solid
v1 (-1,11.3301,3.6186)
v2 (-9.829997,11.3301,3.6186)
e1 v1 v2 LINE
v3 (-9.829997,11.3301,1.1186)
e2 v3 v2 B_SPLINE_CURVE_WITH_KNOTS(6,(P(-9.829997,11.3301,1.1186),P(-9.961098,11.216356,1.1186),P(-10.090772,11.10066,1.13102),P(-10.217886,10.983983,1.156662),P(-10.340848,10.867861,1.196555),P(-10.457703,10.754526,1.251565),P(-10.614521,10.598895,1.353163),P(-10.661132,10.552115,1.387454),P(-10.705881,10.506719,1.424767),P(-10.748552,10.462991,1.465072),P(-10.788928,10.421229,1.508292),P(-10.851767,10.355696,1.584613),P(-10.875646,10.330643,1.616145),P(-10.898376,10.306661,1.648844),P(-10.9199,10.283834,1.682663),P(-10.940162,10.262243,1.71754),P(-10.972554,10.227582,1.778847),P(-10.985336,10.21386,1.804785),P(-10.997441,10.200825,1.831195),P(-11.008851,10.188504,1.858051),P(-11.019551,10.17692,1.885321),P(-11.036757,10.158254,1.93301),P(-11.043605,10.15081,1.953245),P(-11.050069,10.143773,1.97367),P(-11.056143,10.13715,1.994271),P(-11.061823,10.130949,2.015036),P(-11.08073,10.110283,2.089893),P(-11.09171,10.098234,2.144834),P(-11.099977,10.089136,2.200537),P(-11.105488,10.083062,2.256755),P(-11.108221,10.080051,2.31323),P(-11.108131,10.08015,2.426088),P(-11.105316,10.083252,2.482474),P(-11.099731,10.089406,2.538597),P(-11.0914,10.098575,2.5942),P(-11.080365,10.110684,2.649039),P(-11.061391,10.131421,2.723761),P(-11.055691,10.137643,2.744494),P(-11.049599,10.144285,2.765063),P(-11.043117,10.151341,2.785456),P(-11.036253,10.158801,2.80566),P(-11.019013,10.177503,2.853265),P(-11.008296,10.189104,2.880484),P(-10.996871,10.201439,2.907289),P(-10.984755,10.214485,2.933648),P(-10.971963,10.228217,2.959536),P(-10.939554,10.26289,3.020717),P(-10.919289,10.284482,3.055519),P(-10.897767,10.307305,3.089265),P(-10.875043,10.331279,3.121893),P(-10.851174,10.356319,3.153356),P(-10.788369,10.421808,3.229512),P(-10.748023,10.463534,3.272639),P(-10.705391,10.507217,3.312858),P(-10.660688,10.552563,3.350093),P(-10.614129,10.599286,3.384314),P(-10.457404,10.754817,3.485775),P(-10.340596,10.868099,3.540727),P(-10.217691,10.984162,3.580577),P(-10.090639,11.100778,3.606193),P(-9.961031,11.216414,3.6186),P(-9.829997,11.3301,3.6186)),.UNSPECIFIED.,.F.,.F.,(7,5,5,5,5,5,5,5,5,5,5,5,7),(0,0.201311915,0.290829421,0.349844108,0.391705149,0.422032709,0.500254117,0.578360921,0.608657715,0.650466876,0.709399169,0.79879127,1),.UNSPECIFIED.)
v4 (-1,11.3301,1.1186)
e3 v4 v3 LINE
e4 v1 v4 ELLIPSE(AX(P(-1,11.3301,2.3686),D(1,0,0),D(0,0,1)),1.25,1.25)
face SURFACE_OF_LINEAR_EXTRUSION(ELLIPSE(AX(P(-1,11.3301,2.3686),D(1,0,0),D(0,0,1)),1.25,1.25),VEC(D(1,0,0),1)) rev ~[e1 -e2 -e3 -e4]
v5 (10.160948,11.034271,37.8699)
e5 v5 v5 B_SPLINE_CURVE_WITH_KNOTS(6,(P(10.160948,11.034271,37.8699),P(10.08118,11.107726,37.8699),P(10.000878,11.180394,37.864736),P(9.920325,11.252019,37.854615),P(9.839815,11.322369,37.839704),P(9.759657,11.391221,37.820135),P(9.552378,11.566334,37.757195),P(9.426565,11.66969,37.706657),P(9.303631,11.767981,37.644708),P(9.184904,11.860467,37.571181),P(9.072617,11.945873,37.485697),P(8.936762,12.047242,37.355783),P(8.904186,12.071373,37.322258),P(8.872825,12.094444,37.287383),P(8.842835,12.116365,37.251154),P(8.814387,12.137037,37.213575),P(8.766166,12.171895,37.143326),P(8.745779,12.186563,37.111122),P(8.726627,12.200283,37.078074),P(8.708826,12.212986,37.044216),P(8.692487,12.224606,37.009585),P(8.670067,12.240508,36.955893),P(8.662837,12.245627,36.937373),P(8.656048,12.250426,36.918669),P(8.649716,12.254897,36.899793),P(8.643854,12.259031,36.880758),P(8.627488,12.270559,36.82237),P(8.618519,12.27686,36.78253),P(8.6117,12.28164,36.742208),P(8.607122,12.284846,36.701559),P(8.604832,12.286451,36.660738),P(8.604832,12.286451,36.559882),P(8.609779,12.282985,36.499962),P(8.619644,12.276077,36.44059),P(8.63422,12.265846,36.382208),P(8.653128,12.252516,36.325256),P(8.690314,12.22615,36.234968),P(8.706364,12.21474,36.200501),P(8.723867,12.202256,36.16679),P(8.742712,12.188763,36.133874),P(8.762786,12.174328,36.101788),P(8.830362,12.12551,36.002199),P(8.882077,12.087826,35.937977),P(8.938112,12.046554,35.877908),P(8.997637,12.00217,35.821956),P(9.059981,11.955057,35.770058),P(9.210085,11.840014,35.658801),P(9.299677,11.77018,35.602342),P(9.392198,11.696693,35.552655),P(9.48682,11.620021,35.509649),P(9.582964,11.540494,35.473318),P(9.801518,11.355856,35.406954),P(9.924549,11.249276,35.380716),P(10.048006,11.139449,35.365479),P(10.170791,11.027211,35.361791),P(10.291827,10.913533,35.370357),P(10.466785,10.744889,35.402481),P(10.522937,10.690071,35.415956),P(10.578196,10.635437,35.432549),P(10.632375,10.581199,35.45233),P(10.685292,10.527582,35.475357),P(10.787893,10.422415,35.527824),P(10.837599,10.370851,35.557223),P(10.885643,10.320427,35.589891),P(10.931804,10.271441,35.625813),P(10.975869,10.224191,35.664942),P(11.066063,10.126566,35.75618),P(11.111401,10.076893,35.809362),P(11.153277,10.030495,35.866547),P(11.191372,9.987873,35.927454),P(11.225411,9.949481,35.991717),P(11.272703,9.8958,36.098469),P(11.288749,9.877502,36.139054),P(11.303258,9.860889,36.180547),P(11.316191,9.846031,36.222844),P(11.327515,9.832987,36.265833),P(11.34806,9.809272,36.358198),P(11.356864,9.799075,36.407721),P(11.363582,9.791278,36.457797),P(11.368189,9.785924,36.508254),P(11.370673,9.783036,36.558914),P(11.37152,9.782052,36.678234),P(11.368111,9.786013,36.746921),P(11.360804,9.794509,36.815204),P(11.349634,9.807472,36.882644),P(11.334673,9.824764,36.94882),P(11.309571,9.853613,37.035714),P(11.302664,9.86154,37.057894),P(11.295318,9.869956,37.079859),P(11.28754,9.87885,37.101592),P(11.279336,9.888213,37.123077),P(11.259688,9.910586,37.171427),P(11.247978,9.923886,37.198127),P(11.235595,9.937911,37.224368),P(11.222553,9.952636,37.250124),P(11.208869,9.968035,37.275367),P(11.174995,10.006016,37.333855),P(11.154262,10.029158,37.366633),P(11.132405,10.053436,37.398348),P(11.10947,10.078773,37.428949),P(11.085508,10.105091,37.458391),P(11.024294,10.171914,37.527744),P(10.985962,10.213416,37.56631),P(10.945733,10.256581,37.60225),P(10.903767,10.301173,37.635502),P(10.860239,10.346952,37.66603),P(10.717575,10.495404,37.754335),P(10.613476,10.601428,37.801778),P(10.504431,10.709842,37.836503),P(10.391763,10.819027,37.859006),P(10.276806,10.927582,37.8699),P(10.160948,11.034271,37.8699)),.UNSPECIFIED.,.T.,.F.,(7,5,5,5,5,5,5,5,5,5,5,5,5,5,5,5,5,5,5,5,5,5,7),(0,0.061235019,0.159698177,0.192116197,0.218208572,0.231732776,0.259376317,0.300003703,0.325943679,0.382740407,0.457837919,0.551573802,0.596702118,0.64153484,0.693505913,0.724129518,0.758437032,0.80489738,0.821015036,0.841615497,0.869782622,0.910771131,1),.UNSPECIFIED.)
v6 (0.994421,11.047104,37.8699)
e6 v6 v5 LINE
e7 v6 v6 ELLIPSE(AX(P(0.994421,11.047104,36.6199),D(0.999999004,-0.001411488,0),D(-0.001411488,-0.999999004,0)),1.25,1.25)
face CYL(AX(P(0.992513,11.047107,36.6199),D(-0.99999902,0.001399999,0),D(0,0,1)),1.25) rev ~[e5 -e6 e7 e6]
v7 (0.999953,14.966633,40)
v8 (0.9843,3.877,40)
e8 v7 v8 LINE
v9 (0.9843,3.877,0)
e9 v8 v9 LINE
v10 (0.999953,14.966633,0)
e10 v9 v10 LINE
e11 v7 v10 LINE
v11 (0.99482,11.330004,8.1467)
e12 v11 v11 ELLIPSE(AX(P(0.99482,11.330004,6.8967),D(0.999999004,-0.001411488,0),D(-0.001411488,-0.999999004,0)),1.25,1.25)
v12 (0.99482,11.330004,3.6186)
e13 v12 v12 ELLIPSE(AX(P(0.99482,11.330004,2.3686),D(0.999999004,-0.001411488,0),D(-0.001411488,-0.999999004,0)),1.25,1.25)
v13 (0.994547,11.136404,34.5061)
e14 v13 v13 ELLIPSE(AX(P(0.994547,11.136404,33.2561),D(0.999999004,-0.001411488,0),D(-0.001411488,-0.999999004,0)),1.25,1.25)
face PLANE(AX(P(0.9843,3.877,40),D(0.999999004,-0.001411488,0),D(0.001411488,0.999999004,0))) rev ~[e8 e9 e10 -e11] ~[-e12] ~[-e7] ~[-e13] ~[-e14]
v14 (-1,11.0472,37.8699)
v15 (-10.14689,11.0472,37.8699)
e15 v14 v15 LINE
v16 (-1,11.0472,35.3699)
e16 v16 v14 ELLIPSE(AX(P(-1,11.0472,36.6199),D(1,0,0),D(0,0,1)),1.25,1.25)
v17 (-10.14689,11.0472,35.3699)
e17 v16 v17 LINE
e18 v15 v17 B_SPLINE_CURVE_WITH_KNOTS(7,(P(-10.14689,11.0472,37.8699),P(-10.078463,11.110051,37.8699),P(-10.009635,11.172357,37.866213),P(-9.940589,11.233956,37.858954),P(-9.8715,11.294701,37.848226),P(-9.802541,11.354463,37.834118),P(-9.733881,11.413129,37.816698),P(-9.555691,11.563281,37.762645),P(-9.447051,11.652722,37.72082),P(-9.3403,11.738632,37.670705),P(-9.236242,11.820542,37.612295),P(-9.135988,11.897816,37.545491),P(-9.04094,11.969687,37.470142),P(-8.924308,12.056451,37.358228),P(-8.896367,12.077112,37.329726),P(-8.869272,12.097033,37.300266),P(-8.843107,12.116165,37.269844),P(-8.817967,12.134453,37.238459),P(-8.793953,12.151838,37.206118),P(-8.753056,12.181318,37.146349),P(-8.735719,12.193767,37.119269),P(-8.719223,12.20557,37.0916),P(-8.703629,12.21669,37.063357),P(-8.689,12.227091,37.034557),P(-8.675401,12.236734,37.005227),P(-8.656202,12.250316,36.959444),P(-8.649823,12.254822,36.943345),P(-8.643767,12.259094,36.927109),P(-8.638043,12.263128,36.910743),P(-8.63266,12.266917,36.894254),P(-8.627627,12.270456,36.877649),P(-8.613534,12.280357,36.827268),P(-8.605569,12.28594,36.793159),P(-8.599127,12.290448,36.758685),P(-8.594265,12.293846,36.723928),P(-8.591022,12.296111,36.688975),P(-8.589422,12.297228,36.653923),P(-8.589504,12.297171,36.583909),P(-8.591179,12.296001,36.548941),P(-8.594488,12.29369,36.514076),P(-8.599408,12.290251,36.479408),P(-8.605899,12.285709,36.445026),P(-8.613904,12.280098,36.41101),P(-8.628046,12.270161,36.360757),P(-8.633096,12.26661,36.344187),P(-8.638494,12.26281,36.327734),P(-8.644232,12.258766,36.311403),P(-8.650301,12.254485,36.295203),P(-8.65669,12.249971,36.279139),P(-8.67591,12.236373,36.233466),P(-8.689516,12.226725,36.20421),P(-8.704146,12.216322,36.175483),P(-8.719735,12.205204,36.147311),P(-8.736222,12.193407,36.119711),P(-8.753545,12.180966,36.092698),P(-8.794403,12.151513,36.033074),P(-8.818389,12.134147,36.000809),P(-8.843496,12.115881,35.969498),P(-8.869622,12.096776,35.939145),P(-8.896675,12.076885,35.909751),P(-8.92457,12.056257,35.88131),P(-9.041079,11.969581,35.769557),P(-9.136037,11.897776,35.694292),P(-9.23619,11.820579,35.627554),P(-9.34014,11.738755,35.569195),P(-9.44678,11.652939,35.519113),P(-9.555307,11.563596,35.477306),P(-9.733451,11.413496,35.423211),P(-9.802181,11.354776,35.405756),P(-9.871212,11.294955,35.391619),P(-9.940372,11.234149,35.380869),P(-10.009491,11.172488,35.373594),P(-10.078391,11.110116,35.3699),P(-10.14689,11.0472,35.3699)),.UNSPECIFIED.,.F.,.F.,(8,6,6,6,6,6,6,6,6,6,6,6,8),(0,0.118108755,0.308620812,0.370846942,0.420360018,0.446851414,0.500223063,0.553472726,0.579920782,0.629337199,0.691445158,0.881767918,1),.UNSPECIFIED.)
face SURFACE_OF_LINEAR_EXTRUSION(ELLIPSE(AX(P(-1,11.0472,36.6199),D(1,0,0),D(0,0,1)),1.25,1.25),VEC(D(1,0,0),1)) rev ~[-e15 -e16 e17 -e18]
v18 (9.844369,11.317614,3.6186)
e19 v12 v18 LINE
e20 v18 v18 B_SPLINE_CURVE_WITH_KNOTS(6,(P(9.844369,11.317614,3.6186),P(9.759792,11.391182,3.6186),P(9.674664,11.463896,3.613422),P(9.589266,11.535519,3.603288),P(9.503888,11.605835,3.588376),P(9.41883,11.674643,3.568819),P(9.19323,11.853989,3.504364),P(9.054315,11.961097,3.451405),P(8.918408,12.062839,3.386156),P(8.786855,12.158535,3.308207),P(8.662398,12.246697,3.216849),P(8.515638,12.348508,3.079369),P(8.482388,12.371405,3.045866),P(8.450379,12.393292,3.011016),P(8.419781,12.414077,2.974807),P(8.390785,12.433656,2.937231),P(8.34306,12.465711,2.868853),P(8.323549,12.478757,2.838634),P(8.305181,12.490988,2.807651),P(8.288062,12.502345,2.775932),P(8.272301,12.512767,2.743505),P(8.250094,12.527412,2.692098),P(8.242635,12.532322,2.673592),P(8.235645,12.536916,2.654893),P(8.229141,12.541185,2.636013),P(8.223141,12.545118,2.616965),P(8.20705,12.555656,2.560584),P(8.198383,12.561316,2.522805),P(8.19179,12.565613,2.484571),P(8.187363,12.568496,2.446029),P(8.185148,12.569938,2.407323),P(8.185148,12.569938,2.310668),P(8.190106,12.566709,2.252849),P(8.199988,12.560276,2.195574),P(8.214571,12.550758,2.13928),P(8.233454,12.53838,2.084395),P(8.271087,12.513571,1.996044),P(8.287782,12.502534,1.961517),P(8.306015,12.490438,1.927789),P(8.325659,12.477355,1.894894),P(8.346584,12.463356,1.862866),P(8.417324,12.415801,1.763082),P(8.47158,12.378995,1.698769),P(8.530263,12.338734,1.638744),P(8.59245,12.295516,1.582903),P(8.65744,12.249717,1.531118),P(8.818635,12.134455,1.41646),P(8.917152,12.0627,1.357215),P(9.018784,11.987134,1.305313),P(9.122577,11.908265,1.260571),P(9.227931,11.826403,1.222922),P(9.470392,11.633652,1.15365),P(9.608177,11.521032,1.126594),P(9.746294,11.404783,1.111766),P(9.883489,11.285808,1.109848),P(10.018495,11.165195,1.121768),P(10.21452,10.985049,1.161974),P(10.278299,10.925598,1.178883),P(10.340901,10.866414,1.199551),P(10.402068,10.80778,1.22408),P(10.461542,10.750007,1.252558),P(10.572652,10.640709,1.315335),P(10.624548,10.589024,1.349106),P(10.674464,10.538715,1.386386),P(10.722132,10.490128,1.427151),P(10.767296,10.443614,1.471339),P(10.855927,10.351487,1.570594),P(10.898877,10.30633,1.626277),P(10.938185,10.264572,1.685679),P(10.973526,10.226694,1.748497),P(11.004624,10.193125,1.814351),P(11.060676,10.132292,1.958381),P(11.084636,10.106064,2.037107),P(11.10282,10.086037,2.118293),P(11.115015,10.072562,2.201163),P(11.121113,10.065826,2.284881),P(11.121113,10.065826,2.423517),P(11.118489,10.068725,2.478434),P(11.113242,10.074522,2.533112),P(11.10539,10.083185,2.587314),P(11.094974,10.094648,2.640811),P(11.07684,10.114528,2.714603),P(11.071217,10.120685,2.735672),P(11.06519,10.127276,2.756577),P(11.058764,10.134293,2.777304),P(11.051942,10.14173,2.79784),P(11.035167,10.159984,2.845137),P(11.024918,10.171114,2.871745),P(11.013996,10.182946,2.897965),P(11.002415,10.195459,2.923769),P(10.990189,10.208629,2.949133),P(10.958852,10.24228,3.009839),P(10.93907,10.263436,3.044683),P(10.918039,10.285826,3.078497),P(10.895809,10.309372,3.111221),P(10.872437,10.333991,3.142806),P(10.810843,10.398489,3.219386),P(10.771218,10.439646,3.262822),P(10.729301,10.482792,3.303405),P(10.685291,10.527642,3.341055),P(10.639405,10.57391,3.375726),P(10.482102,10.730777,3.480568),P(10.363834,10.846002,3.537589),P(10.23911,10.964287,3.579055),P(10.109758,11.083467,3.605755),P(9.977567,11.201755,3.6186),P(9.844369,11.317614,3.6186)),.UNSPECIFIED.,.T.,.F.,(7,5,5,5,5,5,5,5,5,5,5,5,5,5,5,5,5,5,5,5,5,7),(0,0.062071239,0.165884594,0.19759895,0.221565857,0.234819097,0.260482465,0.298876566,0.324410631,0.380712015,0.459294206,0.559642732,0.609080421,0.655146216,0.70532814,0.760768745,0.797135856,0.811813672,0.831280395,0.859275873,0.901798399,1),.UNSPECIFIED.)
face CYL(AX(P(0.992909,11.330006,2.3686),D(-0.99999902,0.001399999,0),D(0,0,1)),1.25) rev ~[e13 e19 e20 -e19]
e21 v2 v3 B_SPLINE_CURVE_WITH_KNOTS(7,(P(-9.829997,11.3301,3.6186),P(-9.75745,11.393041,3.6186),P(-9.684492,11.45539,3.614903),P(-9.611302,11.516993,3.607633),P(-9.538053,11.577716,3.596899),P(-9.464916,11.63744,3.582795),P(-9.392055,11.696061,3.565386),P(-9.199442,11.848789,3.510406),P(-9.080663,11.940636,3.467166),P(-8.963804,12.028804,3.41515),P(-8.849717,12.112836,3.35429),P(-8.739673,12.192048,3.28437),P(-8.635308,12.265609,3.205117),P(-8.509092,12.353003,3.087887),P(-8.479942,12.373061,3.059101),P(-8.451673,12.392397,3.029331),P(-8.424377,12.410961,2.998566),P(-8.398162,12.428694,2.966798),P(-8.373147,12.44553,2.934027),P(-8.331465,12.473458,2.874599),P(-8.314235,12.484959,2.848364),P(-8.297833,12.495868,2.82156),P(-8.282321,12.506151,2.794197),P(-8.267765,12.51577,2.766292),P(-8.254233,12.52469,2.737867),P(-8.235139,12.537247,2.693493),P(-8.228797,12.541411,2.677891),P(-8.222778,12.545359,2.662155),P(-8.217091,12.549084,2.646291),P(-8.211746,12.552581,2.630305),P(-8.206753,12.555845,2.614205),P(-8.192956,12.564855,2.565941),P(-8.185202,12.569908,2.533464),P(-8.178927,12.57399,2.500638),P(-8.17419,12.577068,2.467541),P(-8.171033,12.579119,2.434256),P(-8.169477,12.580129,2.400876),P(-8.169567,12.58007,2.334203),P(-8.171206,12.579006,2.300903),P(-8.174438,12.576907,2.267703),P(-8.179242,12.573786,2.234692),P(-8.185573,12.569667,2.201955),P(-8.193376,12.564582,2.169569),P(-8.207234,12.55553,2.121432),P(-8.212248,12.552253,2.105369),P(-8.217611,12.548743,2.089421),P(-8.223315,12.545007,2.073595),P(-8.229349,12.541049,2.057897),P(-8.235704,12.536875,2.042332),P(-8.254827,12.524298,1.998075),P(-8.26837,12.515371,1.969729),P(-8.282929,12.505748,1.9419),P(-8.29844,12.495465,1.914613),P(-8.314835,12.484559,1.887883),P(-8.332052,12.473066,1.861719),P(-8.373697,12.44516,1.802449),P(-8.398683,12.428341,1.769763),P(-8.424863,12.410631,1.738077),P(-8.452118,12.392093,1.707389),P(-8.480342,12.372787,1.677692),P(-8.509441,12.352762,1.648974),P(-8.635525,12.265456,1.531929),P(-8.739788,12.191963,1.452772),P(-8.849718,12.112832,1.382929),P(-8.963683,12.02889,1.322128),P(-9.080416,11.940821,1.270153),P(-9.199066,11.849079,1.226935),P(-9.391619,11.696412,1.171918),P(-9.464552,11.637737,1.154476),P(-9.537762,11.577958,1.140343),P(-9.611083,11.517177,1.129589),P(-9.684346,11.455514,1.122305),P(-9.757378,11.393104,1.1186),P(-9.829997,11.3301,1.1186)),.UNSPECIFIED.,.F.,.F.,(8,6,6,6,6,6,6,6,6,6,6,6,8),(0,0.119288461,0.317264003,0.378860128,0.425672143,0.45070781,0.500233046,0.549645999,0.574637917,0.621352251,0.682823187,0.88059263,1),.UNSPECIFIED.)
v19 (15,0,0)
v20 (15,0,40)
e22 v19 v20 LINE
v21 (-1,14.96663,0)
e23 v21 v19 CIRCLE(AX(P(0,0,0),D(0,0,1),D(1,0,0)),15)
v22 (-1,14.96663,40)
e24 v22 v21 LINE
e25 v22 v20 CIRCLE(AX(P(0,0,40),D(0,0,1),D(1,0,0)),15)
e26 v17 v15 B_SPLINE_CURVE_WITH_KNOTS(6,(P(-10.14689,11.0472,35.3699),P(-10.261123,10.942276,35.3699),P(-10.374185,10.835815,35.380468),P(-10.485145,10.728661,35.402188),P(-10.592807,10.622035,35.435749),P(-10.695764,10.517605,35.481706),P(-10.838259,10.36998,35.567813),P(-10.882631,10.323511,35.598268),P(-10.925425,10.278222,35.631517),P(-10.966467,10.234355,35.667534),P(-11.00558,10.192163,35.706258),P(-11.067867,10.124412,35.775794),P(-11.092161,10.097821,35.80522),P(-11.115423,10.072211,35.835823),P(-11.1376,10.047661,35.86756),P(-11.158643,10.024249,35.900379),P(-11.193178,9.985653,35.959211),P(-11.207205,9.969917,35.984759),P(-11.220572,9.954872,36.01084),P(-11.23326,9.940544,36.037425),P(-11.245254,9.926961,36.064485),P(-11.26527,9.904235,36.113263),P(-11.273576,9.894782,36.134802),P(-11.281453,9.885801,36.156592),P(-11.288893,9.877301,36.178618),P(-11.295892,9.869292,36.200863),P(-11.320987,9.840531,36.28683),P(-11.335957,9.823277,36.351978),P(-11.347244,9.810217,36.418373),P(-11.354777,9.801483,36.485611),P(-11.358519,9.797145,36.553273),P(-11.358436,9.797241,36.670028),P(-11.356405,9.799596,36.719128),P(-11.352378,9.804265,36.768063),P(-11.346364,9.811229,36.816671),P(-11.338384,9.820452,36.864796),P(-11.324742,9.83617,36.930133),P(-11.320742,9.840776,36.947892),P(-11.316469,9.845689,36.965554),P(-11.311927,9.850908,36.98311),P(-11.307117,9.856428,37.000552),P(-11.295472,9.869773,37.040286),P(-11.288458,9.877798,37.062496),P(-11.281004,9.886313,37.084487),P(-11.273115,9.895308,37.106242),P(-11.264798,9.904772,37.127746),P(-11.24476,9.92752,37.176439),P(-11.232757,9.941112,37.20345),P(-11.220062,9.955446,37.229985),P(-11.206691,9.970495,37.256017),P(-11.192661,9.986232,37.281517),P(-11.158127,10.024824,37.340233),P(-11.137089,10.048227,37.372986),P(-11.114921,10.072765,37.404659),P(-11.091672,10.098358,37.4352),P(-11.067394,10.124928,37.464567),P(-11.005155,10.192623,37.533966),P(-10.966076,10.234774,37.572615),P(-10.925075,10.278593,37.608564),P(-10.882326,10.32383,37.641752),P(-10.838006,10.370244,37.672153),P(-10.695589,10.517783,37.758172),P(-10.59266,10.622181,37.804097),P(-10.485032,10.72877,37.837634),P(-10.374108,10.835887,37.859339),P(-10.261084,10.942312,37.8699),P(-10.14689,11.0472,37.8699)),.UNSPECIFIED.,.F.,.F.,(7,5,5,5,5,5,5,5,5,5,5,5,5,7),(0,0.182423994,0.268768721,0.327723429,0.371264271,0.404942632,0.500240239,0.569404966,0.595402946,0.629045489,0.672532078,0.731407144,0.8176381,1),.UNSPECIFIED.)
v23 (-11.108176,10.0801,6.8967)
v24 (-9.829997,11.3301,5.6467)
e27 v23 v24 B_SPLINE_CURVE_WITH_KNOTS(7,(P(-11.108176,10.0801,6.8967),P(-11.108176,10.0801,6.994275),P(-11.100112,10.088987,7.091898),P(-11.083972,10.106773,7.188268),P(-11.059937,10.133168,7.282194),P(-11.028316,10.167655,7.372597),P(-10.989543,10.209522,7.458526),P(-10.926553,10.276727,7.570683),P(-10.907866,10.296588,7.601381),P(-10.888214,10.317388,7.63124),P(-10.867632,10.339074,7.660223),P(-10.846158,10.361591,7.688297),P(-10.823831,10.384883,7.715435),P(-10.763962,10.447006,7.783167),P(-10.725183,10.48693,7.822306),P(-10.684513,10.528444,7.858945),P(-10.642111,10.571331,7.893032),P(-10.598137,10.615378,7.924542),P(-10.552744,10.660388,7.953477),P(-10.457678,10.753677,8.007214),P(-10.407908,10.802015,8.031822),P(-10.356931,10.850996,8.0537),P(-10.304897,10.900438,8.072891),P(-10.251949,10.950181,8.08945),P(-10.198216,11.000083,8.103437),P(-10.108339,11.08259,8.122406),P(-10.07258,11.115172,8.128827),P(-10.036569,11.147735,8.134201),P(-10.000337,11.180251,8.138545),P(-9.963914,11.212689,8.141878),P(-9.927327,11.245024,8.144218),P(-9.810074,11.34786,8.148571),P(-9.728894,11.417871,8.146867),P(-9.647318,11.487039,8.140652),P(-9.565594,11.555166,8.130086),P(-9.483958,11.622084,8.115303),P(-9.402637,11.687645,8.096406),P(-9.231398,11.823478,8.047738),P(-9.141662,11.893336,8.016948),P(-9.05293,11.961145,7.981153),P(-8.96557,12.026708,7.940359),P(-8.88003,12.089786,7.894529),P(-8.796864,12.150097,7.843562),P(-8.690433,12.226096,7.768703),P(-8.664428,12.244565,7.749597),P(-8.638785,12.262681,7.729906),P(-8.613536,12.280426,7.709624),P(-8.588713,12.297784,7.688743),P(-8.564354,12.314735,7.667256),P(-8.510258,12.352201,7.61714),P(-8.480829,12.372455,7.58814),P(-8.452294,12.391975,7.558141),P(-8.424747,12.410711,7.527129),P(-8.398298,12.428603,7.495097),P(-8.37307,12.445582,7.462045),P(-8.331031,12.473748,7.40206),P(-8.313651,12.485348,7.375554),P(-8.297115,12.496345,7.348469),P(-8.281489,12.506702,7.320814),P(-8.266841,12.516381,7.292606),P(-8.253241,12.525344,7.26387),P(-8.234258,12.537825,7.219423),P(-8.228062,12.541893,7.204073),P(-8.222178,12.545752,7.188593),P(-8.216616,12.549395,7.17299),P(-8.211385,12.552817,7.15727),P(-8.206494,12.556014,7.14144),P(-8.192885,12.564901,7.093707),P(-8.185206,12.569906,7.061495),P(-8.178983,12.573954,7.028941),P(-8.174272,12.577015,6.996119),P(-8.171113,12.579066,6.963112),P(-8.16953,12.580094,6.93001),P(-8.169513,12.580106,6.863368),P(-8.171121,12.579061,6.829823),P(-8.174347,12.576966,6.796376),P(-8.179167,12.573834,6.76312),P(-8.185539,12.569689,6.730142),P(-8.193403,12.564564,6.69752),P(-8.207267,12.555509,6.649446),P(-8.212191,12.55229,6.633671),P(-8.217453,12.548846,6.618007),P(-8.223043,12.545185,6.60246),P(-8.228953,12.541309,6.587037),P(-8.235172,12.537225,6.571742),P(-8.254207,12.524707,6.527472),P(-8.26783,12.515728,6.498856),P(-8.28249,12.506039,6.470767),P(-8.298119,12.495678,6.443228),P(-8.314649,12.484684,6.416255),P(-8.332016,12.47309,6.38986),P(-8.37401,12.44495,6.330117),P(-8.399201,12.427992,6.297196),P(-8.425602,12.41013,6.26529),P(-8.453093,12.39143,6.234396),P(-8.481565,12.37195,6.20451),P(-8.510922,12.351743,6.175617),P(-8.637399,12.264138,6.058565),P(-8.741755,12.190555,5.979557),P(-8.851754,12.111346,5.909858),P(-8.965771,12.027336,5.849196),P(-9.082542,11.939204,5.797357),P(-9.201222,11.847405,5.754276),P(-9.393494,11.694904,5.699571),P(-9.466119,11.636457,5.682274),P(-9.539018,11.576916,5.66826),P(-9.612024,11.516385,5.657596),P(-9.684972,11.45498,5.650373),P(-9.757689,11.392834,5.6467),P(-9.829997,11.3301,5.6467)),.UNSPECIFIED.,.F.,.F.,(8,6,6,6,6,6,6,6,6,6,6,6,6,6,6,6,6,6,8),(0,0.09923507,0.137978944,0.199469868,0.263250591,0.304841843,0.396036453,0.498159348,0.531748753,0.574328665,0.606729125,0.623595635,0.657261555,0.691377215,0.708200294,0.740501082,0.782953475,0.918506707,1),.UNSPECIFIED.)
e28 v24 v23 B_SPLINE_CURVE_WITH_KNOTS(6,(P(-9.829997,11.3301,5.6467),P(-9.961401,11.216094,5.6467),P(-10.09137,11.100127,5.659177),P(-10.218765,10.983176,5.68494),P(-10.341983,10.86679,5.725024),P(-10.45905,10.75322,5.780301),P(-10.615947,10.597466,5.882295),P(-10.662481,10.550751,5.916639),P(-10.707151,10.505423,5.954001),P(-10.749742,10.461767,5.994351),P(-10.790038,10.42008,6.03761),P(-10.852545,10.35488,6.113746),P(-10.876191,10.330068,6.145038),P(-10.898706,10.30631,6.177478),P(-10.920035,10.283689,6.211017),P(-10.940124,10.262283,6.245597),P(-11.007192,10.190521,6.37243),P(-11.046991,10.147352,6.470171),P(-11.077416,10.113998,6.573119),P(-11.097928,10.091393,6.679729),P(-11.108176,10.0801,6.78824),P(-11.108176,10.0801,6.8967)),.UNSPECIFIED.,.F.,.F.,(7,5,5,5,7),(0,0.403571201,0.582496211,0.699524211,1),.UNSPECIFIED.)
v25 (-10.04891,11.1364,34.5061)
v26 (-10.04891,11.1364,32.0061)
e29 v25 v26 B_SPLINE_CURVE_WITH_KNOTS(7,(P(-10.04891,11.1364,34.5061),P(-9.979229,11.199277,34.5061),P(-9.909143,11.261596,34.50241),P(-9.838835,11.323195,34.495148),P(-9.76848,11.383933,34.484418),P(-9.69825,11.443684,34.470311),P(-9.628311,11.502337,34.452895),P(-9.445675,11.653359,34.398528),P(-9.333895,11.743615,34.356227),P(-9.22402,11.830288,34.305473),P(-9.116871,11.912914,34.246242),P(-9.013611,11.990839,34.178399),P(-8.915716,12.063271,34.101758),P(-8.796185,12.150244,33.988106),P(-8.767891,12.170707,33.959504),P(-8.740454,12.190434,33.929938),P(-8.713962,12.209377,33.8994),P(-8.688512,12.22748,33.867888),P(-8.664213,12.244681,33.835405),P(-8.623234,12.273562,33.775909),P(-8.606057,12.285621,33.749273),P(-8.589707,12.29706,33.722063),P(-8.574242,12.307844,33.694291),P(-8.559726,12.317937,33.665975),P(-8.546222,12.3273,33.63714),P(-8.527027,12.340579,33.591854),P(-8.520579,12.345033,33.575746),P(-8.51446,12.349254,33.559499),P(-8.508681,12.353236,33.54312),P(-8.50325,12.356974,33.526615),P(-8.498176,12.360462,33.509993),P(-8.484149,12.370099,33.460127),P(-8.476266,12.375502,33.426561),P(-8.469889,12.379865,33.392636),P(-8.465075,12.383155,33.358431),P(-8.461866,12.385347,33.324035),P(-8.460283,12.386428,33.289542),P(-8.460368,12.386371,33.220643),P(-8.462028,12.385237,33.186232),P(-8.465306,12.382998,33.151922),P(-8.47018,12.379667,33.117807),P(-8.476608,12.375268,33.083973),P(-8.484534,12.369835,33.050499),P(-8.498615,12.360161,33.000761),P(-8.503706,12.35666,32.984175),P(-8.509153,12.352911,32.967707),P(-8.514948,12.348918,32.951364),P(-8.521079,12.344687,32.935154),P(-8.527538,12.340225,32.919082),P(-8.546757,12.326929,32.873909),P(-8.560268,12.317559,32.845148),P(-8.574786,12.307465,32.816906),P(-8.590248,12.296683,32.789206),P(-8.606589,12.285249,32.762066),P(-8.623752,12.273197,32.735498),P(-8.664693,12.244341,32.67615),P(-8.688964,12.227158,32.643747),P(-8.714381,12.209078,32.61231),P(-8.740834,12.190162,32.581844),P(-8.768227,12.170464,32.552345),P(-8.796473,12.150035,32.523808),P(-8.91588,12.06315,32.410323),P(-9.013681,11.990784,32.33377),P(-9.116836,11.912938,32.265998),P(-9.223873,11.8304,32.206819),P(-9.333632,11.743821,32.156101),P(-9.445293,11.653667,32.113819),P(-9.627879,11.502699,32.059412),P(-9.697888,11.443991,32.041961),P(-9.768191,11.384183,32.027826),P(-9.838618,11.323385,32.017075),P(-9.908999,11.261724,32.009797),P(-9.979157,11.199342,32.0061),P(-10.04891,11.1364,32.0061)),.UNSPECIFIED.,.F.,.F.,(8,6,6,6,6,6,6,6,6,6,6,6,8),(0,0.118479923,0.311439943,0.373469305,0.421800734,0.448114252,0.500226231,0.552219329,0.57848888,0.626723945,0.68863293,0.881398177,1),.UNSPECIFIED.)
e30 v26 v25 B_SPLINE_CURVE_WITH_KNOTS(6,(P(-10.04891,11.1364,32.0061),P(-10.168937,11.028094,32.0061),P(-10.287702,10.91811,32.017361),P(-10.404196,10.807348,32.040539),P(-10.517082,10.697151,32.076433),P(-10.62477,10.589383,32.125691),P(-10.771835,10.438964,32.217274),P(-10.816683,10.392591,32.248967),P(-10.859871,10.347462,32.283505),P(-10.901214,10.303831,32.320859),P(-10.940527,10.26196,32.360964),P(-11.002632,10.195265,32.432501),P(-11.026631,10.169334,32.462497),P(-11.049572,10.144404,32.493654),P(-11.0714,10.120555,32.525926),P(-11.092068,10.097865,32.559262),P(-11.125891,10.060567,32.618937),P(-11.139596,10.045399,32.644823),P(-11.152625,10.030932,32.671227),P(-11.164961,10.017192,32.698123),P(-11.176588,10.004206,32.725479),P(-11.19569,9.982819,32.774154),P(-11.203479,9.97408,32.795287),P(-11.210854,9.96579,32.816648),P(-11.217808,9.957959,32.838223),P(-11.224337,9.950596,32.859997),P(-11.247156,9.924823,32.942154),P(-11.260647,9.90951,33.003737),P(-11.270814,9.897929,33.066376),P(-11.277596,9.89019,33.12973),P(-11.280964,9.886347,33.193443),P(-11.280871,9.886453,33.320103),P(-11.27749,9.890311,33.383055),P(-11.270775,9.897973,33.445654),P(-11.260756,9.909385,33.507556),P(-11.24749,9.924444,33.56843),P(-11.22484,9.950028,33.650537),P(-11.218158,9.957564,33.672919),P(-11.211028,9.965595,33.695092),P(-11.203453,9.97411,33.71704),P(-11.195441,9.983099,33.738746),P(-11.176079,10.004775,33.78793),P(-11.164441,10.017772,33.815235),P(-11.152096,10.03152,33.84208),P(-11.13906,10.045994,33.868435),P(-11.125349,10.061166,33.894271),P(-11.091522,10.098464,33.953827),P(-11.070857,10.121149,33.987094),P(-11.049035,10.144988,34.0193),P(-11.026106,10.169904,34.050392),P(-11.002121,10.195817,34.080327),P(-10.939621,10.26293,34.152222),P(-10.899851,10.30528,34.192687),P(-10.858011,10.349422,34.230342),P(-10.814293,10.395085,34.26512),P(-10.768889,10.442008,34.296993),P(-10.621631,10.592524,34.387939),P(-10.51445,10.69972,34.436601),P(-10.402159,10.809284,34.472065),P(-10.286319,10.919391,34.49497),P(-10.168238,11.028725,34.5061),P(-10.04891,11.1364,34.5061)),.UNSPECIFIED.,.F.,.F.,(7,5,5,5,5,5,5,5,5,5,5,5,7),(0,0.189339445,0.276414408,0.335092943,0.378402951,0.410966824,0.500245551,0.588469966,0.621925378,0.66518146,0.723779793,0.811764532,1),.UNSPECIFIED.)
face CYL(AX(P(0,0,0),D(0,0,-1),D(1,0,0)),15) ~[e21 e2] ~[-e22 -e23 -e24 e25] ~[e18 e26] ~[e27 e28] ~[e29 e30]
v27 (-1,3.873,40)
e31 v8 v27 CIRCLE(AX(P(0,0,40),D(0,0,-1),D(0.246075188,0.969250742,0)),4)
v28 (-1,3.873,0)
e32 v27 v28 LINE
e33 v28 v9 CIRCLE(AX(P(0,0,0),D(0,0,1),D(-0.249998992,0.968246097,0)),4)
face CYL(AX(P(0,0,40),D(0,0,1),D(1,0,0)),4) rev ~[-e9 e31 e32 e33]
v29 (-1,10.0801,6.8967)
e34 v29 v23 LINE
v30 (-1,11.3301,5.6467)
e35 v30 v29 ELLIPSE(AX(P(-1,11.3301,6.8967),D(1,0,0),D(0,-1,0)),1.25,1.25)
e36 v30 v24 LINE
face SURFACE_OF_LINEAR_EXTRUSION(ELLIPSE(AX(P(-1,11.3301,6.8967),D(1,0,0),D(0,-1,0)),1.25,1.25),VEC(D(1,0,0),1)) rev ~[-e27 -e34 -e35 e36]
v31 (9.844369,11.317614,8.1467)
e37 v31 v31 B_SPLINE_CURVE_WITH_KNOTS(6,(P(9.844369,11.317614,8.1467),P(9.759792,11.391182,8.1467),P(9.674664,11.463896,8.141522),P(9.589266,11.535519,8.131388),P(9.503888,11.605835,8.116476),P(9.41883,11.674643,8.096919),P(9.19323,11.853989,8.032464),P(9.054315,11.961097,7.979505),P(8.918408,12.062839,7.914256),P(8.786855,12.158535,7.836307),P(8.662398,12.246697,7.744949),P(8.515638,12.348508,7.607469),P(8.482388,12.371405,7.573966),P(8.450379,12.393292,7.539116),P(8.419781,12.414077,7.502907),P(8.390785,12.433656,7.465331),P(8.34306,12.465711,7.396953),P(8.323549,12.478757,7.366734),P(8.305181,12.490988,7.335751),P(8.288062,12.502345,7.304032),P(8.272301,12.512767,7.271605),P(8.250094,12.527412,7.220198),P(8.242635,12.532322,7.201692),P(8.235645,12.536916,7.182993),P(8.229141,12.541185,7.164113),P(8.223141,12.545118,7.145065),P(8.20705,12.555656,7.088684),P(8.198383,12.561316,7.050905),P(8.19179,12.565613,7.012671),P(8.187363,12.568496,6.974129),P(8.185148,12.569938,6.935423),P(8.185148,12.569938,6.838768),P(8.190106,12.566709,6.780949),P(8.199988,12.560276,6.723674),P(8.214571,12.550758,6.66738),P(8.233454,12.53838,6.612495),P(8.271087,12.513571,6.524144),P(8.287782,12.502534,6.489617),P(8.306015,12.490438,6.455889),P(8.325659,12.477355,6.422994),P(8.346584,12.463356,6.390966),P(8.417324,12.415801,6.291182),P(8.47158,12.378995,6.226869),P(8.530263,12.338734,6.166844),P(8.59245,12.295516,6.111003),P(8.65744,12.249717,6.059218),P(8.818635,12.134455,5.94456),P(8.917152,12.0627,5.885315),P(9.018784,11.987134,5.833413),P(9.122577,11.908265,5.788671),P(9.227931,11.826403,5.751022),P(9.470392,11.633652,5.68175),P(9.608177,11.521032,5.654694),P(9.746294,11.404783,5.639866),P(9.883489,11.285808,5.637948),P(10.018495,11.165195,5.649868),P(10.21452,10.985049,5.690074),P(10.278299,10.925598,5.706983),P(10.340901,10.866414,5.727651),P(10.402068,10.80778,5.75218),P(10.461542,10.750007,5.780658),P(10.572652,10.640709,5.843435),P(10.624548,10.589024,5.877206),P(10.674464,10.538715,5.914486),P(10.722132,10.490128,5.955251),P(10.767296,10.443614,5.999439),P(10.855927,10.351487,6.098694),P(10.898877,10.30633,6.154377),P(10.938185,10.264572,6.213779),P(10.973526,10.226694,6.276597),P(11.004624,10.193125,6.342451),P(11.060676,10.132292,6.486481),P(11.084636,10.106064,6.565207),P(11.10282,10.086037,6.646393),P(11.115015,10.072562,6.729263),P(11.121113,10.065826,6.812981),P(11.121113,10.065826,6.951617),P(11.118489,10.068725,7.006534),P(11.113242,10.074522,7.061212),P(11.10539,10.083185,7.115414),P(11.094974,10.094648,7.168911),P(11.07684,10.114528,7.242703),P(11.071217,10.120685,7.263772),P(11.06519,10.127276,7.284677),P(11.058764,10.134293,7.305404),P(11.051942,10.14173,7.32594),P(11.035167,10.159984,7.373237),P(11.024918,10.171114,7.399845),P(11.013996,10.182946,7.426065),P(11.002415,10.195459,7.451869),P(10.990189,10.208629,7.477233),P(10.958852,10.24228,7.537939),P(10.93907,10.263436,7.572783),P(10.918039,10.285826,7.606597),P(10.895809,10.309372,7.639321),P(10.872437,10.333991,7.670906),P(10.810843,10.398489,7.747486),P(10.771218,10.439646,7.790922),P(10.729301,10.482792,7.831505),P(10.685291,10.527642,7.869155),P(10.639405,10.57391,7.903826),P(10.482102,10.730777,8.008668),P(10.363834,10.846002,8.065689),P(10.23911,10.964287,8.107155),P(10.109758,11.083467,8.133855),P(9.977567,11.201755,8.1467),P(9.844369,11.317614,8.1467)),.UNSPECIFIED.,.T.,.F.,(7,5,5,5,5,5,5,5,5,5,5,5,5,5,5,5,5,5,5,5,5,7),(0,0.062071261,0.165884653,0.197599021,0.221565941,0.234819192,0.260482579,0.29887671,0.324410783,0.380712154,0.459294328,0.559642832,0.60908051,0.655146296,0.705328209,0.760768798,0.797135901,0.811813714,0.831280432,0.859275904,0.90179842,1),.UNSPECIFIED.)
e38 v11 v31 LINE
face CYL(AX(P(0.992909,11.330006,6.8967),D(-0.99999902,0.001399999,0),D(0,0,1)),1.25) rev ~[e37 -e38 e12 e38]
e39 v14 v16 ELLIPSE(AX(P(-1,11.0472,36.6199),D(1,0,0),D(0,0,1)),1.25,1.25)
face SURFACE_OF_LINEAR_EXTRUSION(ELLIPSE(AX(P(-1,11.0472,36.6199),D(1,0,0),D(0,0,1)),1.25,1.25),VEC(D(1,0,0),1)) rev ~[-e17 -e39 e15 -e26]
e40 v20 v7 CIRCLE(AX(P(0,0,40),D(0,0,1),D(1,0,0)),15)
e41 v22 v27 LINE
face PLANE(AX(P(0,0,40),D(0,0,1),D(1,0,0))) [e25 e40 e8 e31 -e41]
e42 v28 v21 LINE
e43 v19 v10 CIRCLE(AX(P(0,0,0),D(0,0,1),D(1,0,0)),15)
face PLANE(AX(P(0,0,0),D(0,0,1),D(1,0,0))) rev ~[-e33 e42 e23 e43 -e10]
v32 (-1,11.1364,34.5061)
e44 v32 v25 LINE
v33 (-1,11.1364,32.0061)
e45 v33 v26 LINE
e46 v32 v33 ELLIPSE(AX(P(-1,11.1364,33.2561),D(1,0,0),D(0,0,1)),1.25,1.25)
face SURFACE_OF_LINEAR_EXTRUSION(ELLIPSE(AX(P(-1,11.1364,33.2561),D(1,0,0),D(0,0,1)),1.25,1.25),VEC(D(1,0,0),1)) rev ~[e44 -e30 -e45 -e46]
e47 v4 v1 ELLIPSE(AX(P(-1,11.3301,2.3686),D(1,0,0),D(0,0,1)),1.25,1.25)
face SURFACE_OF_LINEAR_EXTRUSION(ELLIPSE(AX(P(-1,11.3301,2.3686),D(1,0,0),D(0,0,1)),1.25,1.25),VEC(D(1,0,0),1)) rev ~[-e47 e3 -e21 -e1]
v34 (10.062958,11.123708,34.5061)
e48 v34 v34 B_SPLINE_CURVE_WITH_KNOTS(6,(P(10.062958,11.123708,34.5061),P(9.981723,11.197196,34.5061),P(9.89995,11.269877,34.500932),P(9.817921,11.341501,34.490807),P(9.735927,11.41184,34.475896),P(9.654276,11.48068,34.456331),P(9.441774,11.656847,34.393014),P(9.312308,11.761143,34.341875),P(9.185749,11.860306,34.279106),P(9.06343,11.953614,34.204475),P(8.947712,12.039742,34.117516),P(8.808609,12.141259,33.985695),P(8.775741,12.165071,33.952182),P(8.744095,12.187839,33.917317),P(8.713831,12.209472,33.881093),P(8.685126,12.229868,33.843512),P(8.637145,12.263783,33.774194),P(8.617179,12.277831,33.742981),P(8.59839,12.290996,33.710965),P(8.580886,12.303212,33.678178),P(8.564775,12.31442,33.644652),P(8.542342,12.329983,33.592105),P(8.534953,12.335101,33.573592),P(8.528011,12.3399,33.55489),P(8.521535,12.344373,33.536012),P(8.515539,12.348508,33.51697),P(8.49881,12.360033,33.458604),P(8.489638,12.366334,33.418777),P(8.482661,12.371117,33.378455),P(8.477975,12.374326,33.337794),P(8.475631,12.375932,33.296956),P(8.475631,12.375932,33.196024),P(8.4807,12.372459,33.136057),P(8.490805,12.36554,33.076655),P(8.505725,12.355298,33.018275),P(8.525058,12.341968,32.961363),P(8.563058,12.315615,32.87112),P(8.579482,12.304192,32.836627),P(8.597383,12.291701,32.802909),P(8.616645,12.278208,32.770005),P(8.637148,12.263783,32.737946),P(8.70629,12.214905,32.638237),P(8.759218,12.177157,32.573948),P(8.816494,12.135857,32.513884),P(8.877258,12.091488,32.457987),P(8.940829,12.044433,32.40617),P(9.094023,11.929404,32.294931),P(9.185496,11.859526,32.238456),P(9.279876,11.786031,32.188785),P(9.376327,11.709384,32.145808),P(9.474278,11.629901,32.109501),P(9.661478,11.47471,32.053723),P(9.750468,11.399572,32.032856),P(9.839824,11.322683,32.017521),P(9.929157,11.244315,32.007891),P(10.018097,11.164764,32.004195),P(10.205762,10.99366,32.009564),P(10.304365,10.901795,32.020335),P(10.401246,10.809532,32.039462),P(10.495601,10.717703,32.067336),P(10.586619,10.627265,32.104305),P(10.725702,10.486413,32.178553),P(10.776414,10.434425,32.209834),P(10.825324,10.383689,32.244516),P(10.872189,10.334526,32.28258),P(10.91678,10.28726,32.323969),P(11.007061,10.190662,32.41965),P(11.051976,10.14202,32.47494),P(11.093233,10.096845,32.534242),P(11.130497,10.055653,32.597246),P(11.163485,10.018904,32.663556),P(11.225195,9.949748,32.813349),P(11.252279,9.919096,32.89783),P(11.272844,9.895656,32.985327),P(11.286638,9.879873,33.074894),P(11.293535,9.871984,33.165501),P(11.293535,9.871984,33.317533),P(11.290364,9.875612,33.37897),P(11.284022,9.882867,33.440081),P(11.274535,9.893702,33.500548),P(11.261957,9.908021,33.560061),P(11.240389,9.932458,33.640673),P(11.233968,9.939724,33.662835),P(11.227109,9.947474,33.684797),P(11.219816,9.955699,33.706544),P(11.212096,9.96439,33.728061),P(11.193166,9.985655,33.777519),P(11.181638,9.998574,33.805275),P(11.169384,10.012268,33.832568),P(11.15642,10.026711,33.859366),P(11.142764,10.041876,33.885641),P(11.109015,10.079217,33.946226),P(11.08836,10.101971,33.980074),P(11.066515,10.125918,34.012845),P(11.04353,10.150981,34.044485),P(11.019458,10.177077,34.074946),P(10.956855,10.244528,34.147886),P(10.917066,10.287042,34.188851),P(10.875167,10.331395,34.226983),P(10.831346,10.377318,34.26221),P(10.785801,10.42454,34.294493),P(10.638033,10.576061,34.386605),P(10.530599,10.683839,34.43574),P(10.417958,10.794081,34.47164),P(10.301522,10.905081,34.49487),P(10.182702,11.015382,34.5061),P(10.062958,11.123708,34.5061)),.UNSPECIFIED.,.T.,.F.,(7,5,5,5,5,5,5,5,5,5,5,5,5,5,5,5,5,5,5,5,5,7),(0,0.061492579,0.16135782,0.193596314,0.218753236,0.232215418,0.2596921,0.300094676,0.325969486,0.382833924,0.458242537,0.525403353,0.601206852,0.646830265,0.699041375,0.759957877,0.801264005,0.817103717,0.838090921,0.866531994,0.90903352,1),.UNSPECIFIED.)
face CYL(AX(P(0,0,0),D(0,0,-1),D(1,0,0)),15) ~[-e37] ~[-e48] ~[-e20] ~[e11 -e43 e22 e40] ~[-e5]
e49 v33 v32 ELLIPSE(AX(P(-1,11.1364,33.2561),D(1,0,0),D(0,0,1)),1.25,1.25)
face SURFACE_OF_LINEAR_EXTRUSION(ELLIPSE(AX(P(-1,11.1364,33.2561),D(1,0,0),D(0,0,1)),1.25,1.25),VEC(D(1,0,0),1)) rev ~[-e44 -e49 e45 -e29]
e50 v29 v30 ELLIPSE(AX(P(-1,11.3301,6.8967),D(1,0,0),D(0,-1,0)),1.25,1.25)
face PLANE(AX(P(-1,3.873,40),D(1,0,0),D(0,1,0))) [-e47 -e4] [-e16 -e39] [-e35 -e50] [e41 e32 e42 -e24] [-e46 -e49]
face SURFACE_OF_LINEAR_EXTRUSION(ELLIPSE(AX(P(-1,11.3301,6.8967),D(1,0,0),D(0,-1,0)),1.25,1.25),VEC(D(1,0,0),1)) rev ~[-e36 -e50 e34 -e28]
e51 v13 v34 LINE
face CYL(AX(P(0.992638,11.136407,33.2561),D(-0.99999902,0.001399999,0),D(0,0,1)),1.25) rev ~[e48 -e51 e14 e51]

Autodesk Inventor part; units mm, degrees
ref_plane "YZ Plane" through (0, 0, 0) normal (1, 0, 0) x (0, 1, 0)
ref_plane "XZ Plane" through (0, 0, 0) normal (0, 1, 0) x (-1, 0, 0)
ref_plane "XY Plane" through (0, 0, 0) normal (0, 0, 1) x (1, 0, 0)
sketch "Sketch1" plane through (0, 0, 0) normal (0, 0, 1) x (1, 0, 0)
  circle A0 centre (0, 0) radius 15
  dimension "d0" = 30
extrude "Extrusion1" add sketch "Sketch1" along normal blind 40
sketch "Sketch2" plane through (0, 0, 40) normal (0, 0, 1) x (1, 0, 0)
  circle A0 centre (0, 0) radius 4
  dimension "d3" = 8
extrude "Extrusion2" cut sketch "Sketch2" against normal blind 40
sketch "Sketch3" plane through (0, 0, 40) normal (0, 0, 1) x (1, 0, 0)
  circle A0 centre (0, 0) radius 4 projected
  circle A1 centre (0, 0) radius 15 projected
  line L0 (0, 15) -> (1, 15)
  line L1 (0, 15) -> (-1, 15)
  line L2 (-0.0081, 4) -> (0.9843, 3.877)
  line L3 (-0.0081, 4) -> (-1, 3.873)
  line L4 (-1, 3.873) -> (-1, 15)
  line L5 (0.9843, 3.877) -> (1, 15)
  dimension "d8" = 1
  dimension "d9" = 1
  dimension "d10" = 1
  dimension "d11" = 1
extrude "Extrusion3" cut sketch "Sketch3" against normal blind 40 contours L2 A0 | A0 L4 A1 L5 | A0 L3 | A1 L0 L5 | L4 L1 A1 picked at (-0.339, 7.6568)
sketch "Sketch4" plane through (0, 0, 40) normal (0, 0, 1) x (1, 0, 0)
  point P0 (0, 0)
sketch "Sketch5" plane through (1, 14.9666, 0) normal (-1, 0.0014, 0) x (0, 0, 1)
  point P0 (0, -14.968)
sketch "Sketch6" plane through (1, 14.9666, 0) normal (-1, 0.0014, 0) x (0, 0, 1)
  circle A0 centre (36.6199, -3.9195) radius 1.25
  point P0 (0, -14.968)
  dimension "d14" = 2.5
extrude "Extrusion4" cut sketch "Sketch6" against normal blind 15
sketch "Sketch7" plane through (1, 14.9666, 0) normal (-1, 0.0014, 0) x (0, 0, 1)
  circle A0 centre (33.2561, -3.8302) radius 1.25
  point P0 (0, -14.968)
  dimension "d17" = 2.5
extrude "Extrusion5" cut sketch "Sketch7" against normal blind 15
sketch "Sketch8" plane through (1, 14.9666, 0) normal (-1, 0.0014, 0) x (0, 0, 1)
  circle A0 centre (6.8967, -3.6366) radius 1.25
  circle A1 centre (2.3686, -3.6366) radius 1.25
  point P0 (0, -14.968)
  dimension "d20" = 2.5
  dimension "d21" = 2.5
extrude "Extrusion6" cut sketch "Sketch8" against normal blind 30
sketch "Sketch9" plane through (-1, 3.873, 40) normal (1, 0, 0) x (0, 0, -1)
  point P0 (40, -3.873)
sketch "Sketch10" plane through (-1, 3.873, 40) normal (1, 0, 0) x (0, 0, -1)
  ellipse E0 centre (33.1033, 7.4571) end of major axis (31.8533, 7.4571) minor radius 1.25 projected
  circle A0 centre (33.1033, 7.4571) radius 1.25
  ellipse E1 centre (37.6314, 7.4571) end of major axis (36.3814, 7.4571) minor radius 1.25 projected
  circle A1 centre (37.6314, 7.4571) radius 1.25
  ellipse E2 centre (6.7439, 7.2634) end of major axis (5.4939, 7.2634) minor radius 1.25 projected
  circle A2 centre (6.7439, 7.2634) radius 1.25
  ellipse E3 centre (3.3801, 7.1742) end of major axis (2.1301, 7.1742) minor radius 1.25 projected
  circle A3 centre (3.3801, 7.1742) radius 1.25
  point P0 (40, -3.873)
  dimension "d24" = 2.5
  dimension "d25" = 2.5
  dimension "d26" = 2.5
  dimension "d27" = 2.5
extrude "Extrusion7" cut sketch "Sketch10" against normal blind 30
properties part number "Acoplador de servomotor"
